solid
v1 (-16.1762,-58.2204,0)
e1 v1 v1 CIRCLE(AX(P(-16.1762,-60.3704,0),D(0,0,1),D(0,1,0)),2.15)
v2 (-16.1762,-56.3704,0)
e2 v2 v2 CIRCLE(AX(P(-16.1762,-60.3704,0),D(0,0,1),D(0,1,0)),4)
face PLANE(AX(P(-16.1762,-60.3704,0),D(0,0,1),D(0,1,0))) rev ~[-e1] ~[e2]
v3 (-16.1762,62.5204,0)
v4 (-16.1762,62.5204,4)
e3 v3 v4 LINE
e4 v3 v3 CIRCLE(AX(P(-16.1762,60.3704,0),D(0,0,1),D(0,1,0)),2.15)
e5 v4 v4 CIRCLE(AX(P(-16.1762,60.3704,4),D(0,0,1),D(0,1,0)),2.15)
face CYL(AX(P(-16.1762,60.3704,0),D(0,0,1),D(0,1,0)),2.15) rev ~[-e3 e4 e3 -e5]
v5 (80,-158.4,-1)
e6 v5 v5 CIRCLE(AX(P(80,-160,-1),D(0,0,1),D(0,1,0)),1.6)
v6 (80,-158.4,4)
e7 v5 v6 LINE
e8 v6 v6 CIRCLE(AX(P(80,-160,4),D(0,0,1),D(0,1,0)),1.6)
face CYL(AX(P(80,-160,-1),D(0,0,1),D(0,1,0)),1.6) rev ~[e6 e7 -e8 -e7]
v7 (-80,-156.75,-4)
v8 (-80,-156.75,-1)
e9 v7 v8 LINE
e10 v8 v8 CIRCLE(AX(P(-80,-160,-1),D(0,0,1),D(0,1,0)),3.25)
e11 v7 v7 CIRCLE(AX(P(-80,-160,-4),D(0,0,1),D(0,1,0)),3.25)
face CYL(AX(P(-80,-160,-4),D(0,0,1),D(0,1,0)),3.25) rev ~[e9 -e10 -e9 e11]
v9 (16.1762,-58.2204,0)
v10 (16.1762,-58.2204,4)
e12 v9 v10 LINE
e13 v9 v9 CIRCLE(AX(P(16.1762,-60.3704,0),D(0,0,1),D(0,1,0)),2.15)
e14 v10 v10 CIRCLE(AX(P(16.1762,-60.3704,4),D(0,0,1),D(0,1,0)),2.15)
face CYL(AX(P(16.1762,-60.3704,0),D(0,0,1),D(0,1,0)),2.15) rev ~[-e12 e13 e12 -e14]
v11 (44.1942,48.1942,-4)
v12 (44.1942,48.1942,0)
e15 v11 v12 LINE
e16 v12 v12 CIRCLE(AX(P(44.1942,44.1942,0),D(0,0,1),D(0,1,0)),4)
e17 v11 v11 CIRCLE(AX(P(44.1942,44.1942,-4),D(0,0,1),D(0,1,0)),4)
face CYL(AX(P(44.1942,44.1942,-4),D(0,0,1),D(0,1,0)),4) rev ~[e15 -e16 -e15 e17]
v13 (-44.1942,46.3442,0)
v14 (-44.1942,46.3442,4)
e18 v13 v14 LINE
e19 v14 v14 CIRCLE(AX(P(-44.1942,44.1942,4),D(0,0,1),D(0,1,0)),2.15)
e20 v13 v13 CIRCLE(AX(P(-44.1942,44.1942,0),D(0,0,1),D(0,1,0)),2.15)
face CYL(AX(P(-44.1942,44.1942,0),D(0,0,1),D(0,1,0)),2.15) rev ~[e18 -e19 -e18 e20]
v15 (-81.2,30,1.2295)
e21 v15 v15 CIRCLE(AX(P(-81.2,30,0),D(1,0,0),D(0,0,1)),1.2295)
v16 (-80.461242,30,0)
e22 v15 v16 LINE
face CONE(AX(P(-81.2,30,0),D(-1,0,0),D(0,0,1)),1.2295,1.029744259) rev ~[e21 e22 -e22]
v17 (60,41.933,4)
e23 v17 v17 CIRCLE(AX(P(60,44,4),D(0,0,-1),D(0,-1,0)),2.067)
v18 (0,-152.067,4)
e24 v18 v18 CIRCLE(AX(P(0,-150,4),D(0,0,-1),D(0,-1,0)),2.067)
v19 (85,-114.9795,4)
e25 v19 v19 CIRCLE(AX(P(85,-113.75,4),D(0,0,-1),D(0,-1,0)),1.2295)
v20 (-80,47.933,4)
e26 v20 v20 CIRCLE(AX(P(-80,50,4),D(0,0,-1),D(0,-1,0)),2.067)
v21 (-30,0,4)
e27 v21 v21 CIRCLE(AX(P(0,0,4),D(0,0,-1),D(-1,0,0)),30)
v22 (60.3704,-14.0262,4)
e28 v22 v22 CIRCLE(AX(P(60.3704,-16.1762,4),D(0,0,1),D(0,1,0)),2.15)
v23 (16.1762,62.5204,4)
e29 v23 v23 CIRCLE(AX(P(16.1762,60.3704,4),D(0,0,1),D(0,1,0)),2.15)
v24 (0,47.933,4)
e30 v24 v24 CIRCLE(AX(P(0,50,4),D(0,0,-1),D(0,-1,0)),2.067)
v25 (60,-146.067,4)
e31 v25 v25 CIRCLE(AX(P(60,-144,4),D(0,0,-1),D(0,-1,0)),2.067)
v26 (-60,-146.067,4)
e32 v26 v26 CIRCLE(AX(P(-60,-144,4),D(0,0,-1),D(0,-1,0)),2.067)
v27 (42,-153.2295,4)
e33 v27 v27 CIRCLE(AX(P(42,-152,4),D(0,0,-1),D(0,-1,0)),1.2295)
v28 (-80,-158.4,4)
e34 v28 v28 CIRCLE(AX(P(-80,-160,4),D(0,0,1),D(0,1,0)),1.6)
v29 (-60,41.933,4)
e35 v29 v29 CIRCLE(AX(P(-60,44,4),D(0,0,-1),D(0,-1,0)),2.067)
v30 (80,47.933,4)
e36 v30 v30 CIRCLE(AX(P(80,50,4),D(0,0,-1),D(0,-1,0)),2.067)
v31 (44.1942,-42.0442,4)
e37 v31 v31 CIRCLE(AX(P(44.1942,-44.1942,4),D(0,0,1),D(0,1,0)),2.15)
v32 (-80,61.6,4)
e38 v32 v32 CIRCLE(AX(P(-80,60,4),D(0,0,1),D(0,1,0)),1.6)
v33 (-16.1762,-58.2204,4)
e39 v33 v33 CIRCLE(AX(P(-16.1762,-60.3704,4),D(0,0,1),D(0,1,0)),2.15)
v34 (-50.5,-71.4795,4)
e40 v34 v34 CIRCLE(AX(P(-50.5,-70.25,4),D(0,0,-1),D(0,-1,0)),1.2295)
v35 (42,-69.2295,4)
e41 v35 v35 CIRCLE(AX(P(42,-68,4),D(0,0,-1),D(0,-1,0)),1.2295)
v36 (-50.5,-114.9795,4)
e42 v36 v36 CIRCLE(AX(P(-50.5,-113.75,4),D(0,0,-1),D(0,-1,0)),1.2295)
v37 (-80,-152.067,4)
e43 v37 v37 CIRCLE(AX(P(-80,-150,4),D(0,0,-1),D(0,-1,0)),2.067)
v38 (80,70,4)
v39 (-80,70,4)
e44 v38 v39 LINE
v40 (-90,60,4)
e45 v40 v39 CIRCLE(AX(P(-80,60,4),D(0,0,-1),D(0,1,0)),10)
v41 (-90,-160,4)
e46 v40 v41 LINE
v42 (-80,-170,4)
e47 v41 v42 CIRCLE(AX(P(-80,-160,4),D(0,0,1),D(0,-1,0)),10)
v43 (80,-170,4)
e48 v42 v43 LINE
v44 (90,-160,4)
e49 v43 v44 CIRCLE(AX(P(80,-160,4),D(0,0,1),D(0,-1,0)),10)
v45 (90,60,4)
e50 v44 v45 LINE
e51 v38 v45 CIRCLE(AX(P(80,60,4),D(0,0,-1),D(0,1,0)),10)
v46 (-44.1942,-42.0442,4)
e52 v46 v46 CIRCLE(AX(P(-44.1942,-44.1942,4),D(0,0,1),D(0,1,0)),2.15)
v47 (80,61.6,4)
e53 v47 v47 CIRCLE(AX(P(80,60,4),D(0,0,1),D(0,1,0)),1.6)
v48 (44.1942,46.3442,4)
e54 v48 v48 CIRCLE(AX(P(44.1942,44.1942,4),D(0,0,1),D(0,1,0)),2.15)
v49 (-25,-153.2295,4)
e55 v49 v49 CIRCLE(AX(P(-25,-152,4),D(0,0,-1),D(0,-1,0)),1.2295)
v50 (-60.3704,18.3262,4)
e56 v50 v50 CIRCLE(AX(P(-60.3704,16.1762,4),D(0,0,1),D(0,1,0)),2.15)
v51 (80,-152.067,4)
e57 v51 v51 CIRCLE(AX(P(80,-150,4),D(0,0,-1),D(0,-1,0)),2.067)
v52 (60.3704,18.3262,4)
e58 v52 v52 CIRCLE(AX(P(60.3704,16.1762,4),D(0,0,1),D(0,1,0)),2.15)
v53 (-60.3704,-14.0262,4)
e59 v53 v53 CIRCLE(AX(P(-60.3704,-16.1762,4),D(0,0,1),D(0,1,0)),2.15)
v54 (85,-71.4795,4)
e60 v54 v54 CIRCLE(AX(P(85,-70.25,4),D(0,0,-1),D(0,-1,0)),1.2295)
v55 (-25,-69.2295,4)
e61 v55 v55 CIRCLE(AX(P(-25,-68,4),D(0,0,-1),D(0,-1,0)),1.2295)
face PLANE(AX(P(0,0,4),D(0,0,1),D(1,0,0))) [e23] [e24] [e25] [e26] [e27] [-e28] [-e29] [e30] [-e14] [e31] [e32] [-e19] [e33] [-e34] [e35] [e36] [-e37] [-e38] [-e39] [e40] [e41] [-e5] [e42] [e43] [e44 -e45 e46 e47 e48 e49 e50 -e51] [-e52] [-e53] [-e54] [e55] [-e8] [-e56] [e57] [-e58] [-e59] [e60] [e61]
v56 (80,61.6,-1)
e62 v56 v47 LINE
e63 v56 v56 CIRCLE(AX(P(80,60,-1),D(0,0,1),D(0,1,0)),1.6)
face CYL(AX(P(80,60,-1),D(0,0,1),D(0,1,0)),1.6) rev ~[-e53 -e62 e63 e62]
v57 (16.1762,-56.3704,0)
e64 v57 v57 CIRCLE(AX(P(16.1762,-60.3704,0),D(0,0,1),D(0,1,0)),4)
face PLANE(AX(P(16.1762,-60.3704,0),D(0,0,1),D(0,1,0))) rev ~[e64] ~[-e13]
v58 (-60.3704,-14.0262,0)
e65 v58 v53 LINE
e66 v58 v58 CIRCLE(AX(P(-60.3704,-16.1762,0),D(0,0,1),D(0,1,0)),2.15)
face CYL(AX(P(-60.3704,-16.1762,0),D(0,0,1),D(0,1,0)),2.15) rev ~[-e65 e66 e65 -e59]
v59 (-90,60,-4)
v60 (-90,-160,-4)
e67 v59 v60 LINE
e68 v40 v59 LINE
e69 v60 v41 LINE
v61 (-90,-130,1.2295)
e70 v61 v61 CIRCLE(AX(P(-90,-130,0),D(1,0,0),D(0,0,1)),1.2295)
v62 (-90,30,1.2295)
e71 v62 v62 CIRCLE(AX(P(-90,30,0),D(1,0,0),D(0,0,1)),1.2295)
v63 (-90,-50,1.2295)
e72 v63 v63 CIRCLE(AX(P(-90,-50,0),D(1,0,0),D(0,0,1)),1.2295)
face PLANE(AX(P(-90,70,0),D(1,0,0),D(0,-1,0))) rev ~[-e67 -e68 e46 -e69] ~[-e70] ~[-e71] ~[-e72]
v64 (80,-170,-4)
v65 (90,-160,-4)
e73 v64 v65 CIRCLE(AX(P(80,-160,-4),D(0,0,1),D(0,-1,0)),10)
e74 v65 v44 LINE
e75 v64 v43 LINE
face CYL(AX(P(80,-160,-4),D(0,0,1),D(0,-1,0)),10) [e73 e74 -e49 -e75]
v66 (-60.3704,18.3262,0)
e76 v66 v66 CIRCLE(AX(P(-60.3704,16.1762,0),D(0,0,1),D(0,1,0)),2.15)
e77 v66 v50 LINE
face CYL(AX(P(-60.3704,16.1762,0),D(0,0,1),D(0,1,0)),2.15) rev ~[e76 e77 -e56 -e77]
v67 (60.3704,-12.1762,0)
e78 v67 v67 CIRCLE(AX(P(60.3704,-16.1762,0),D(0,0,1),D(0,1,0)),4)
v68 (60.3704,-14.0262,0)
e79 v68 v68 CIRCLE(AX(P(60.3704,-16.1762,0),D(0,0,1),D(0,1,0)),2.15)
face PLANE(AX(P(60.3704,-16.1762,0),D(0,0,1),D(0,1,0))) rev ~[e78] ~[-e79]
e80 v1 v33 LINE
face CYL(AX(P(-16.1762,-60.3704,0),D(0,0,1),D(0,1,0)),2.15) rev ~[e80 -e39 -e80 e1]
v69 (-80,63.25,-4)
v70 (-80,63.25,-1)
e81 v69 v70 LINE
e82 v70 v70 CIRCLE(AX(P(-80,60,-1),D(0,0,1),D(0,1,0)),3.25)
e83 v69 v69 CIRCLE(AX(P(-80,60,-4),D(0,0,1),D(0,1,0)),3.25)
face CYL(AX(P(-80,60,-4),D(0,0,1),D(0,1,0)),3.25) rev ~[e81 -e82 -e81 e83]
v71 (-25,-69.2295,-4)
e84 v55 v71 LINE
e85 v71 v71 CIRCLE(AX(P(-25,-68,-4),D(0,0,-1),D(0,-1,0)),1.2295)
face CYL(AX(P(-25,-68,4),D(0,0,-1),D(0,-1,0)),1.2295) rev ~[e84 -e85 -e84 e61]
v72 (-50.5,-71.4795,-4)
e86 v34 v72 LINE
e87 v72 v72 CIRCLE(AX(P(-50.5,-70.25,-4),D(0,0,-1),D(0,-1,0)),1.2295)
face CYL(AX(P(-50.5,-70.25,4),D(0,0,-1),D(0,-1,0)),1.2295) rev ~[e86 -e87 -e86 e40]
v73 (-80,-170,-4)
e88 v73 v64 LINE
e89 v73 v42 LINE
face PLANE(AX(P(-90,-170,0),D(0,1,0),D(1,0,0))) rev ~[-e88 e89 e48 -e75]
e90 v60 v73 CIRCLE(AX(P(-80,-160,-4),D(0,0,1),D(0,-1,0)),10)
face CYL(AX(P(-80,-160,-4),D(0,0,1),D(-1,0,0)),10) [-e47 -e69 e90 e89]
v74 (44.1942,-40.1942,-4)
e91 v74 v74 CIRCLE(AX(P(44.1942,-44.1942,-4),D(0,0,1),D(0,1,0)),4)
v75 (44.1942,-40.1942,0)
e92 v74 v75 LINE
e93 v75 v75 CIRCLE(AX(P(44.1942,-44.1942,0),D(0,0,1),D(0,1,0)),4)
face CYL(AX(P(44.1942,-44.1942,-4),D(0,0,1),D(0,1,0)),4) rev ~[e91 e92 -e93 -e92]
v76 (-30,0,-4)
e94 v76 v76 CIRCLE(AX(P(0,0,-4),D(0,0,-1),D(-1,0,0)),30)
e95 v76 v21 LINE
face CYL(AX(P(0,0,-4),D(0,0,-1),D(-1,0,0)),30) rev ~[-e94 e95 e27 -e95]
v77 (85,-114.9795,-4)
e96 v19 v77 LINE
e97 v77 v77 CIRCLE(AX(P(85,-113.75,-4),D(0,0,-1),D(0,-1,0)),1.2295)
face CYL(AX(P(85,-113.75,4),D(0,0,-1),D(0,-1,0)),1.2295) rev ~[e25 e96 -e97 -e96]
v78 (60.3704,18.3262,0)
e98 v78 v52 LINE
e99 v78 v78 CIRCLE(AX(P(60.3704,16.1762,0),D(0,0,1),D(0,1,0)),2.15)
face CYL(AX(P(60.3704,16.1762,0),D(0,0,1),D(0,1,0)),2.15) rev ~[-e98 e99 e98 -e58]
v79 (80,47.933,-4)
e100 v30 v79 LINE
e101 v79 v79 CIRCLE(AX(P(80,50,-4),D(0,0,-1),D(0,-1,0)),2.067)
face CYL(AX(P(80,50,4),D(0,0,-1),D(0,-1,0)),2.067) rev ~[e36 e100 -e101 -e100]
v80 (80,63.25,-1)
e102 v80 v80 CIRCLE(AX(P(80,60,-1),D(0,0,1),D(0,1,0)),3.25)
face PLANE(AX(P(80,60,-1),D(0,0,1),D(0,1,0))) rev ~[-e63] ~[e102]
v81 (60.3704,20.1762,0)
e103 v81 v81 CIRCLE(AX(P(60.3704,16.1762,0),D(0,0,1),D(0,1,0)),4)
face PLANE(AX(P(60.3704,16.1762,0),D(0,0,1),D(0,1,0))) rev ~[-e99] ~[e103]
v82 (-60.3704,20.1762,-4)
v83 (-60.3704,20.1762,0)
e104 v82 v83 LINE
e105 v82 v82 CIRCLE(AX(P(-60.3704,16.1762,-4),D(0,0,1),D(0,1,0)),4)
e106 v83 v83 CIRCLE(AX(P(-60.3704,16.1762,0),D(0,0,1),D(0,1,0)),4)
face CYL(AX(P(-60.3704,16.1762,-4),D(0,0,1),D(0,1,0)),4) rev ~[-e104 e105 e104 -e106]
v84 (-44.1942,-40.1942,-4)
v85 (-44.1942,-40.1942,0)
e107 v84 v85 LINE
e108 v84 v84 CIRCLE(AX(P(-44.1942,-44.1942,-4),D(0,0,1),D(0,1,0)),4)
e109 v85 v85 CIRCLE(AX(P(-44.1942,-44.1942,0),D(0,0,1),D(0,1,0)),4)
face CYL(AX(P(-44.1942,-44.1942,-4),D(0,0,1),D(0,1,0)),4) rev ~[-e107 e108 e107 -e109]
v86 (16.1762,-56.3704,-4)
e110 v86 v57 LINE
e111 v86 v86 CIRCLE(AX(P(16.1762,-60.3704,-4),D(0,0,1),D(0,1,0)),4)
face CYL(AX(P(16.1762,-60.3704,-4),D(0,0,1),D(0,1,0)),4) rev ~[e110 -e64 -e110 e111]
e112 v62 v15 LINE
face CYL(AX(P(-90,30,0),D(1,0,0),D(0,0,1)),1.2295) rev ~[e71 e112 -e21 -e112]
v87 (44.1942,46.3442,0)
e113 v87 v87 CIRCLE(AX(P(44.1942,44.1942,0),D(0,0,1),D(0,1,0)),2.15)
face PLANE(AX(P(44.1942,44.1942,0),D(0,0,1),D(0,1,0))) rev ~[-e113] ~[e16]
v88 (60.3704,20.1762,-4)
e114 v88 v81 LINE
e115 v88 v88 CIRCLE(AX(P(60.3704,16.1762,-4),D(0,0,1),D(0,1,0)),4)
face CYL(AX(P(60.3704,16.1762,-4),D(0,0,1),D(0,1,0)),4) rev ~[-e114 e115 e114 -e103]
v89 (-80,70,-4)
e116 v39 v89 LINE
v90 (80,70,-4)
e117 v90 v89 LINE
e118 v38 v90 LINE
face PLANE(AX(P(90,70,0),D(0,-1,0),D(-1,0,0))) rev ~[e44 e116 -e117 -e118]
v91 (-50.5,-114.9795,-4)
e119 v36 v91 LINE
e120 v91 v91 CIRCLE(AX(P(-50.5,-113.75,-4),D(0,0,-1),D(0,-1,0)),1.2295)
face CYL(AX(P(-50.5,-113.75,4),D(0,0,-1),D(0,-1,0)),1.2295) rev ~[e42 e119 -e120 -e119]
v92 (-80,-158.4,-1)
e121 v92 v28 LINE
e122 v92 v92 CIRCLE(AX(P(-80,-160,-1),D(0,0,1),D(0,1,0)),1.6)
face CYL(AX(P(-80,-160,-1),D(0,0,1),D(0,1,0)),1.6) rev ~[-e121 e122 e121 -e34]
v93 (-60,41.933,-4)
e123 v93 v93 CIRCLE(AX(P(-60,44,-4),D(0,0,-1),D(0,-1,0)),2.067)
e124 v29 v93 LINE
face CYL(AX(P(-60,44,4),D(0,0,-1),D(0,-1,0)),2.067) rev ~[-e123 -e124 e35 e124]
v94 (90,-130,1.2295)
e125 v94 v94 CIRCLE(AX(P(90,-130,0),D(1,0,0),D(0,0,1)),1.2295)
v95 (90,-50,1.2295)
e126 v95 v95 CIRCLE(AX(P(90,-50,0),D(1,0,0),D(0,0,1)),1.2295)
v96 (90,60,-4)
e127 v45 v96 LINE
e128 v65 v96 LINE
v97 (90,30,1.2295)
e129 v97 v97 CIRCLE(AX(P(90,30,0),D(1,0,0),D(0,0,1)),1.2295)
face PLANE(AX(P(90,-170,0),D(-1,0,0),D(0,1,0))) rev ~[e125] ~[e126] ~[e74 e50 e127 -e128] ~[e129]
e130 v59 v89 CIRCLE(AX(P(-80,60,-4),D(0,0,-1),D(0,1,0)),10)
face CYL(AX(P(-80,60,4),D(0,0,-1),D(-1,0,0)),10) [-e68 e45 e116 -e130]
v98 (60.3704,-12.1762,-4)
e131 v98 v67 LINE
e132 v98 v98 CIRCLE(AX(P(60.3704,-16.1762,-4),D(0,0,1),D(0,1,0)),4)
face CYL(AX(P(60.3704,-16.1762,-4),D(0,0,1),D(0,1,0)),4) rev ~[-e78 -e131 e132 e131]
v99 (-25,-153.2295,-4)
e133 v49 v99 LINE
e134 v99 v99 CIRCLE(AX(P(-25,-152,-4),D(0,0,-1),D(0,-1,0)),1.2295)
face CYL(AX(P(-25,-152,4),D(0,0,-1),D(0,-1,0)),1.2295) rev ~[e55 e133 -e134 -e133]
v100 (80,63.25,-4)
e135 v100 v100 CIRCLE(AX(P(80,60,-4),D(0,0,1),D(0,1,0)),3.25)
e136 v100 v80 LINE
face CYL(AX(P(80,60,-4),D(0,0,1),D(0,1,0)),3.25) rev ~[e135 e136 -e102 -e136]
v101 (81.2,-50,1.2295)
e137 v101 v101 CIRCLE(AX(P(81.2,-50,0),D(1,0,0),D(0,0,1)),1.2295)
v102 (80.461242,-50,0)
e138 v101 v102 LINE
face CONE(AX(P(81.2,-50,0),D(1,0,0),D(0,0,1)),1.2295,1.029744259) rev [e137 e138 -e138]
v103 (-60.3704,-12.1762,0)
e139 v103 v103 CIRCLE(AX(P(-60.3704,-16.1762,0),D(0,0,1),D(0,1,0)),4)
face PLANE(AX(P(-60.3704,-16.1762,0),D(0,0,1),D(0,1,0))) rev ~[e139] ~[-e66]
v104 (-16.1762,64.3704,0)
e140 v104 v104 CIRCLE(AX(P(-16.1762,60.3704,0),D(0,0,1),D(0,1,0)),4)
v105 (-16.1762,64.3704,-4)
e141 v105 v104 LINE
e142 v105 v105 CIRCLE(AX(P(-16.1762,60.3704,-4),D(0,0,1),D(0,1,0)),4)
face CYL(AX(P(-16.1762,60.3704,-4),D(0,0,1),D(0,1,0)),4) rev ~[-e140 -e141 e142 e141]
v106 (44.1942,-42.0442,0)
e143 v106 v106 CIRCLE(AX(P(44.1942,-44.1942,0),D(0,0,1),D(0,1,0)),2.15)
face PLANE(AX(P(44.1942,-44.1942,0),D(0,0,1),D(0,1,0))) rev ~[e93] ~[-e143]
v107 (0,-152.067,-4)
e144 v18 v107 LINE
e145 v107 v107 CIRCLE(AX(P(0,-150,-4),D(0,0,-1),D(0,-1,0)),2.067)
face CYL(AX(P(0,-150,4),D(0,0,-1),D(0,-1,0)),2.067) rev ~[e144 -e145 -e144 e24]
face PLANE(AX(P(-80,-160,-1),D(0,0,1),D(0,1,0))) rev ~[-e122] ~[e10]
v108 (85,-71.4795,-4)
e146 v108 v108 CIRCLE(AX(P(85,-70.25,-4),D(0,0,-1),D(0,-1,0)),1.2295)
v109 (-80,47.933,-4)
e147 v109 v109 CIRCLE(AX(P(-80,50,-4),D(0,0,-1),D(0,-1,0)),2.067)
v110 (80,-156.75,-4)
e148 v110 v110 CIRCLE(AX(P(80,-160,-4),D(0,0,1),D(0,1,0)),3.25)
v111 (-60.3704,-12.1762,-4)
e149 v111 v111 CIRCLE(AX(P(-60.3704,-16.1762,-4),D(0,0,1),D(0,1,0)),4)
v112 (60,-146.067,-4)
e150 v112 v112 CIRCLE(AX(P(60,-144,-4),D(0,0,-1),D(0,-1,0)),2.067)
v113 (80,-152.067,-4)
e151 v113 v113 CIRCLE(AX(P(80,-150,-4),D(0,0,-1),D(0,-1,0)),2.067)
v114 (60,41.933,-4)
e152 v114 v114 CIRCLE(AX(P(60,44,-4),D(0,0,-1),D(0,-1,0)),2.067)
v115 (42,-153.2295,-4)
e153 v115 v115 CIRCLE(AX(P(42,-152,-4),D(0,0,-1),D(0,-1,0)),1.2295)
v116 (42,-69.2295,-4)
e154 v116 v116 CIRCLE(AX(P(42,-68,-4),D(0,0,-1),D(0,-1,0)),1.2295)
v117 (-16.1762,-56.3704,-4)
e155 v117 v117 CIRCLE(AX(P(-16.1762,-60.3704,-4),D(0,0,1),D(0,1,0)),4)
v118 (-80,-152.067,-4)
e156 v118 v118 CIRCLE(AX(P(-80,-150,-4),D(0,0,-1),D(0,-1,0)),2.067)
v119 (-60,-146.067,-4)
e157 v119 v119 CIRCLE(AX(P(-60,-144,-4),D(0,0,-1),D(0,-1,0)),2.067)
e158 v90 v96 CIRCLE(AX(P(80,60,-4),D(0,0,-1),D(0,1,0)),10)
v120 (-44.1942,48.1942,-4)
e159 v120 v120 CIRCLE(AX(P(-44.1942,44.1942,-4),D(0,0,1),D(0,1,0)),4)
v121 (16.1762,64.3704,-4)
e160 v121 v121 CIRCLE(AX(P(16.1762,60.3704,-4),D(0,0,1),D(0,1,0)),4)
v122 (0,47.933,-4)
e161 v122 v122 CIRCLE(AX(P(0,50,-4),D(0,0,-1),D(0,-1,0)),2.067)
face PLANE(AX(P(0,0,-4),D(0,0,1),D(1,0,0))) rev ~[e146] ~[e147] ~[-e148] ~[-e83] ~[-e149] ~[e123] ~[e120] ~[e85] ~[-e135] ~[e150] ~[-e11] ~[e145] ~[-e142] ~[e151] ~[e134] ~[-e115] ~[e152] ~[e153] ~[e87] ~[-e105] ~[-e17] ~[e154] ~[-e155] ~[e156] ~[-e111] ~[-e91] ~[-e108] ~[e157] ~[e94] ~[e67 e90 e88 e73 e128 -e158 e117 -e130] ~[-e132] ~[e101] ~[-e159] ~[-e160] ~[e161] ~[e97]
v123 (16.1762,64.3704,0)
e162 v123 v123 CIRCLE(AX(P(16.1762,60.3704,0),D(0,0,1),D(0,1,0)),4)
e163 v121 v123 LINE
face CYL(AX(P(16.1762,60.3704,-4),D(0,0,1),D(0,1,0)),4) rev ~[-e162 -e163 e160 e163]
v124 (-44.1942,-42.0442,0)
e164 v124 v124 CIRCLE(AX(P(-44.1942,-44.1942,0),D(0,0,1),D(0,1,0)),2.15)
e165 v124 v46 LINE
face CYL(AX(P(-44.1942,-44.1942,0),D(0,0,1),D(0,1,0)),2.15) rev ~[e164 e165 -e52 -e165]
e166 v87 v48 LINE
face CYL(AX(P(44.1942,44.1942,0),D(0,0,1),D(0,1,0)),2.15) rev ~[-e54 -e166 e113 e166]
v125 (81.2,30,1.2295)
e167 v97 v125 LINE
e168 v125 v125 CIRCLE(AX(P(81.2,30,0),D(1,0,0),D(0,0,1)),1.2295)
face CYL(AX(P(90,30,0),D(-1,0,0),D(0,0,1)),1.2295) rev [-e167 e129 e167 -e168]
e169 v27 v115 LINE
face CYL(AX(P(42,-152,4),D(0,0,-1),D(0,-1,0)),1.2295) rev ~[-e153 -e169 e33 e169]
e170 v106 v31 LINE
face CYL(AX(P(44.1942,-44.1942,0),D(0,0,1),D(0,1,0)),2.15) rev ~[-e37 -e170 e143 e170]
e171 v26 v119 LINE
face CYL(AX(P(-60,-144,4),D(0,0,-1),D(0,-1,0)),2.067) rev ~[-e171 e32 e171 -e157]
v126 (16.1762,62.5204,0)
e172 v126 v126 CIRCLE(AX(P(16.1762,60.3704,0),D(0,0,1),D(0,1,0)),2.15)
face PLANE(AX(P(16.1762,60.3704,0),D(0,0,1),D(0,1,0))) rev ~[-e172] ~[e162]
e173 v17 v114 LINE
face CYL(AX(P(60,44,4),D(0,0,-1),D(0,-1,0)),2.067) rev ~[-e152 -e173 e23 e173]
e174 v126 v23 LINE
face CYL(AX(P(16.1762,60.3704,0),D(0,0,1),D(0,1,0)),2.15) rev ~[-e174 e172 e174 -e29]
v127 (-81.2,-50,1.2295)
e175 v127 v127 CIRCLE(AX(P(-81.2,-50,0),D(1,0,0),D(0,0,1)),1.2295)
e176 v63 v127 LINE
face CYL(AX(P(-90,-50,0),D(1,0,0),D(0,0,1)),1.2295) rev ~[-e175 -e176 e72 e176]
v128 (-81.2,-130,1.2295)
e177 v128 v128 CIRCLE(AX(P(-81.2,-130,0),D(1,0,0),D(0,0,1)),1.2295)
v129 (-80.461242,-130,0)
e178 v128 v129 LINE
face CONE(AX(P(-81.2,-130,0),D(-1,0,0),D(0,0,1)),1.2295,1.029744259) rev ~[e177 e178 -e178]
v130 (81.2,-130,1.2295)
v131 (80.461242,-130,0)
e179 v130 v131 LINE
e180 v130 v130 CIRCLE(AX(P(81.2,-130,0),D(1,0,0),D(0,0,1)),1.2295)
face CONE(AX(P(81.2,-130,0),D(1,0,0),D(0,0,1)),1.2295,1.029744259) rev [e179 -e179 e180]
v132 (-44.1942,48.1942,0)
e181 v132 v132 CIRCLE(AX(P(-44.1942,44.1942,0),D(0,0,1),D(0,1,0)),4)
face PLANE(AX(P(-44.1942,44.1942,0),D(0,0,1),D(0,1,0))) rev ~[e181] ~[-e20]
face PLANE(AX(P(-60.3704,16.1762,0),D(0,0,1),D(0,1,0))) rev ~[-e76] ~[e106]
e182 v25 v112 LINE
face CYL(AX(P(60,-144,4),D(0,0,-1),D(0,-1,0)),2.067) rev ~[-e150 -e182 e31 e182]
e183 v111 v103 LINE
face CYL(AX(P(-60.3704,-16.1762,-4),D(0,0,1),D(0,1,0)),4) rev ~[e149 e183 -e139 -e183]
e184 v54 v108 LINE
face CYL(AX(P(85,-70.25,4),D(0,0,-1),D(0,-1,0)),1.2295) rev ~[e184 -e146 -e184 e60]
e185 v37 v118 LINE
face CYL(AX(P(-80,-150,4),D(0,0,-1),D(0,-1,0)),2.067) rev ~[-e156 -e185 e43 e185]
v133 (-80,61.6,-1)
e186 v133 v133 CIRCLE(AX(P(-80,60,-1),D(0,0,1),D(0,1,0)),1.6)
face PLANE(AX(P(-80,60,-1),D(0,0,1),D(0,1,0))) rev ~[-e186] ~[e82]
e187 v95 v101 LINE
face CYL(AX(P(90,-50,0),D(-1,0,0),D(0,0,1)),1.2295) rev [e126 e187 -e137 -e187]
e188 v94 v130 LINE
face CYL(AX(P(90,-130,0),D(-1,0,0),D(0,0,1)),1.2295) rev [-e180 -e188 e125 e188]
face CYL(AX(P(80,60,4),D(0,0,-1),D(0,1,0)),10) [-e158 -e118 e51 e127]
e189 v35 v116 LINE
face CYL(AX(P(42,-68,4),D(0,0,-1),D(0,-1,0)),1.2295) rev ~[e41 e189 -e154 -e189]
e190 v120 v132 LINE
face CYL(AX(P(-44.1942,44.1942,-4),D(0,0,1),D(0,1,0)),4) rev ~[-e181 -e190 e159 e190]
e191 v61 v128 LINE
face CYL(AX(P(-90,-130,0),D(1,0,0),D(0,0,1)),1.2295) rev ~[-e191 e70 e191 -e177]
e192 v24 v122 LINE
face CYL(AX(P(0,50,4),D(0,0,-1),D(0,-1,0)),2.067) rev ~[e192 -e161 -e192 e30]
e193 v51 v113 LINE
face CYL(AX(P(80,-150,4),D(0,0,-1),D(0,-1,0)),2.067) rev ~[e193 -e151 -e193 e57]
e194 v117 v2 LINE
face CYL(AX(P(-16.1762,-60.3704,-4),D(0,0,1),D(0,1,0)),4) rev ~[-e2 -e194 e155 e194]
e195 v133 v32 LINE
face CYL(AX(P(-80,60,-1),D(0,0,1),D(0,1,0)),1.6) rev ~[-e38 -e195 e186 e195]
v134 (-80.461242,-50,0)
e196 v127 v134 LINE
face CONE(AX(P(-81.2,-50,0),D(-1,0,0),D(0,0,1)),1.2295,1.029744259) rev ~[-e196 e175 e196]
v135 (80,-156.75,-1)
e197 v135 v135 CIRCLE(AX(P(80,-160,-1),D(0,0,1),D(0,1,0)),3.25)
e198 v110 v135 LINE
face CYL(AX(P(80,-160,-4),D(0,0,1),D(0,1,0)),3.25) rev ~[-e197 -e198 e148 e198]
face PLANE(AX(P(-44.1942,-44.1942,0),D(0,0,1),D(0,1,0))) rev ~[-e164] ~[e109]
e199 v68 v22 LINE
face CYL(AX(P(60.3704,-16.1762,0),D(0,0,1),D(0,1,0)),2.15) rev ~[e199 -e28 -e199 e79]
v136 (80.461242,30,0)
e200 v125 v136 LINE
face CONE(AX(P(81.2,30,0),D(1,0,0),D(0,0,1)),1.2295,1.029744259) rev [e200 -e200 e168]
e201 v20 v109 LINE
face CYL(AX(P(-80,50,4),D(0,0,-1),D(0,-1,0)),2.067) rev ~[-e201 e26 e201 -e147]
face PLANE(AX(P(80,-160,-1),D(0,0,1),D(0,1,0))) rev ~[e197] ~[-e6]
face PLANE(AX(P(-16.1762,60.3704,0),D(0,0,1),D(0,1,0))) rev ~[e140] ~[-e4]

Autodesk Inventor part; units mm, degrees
ref_plane "YZ Plane" through (0, 0, 0) normal (1, 0, 0) x (0, 1, 0)
ref_plane "XZ Plane" through (0, 0, 0) normal (0, 1, 0) x (-1, 0, 0)
ref_plane "XY Plane" through (0, 0, 0) normal (0, 0, 1) x (1, 0, 0)
sketch "スケッチ1" plane through (0, 0, 0) normal (0, 0, 1) x (1, 0, 0)
  circle A0 centre (0, 0) radius 73.5 construction
  line L0 (-90, -170) -> (90, -170)
  line L1 (90, -170) -> (90, 70)
  line L2 (90, 70) -> (-90, 70)
  line L3 (-90, 70) -> (-90, -170)
  line L4 (-90, -170) -> (90, 70) construction
  line L5 (90, -170) -> (-90, 70) construction
  point P0 (0, -50)
  point P1 (0, -50)
  dimension "d25" = 147
  dimension "d26" = 240
  dimension "d71" = 180
  dimension "d76" = 70
extrude "押し出し2" add sketch "スケッチ1" along normal mid plane 8
sketch "スケッチ5" plane through (0, 0, 4) normal (0, 0, 1) x (1, 0, 0)
  line L0 (-50.5, -113.75) -> (85, -113.75)
  line L1 (85, -113.75) -> (85, -70.25)
  line L2 (85, -70.25) -> (-50.5, -70.25)
  line L3 (-50.5, -70.25) -> (-50.5, -113.75)
  line L4 (-50.5, -113.75) -> (85, -70.25) construction
  line L5 (85, -113.75) -> (-50.5, -70.25) construction
  line L6 (90, -170) -> (90, 70) projected
  point P0 (0, 0)
  point P1 (17.25, -92)
  point P2 (17.25, -92)
  dimension "d40" = 135.5
  dimension "d41" = 43.5
  dimension "d73" = 92
  dimension "d74" = 5
hole "穴3" at (-50.5, -70.25, 4) at (-50.5, -113.75, 4) at (85, -113.75, 4) at (85, -70.25, 4) direction (0, 0, -1) diameter 2.459 depth 8.8 tip angle 118 thread size "M3x0.5" class "6H" standard "ANSI Metric M Profile"
sketch "スケッチ6" plane through (0, 0, -4) normal (0, 0, -1) x (-1, 0, 0)
  circle A0 centre (0, 0) radius 30
  dimension "d54" = 60
extrude "押し出し3" cut sketch "スケッチ6" against normal through all
fillet "フィレット3" radius 10 4 edges at (90, 70, 0) (-90, 70, 0) (90, -170, 0) (-90, -170, 0)
sketch "スケッチ7" plane through (0, 0, 4) normal (0, 0, 1) x (1, 0, 0)
  line L0 (-25, -68) -> (42, -68)
  line L1 (42, -68) -> (42, -152)
  line L2 (42, -152) -> (-25, -152)
  line L3 (-25, -152) -> (-25, -68)
  line L4 (-25, -68) -> (42, -152) construction
  line L5 (42, -68) -> (-25, -152) construction
  line L6 (-80, -170) -> (80, -170) projected
  line L7 (-90, 60) -> (-90, -160) projected
  line L8 (90, -160) -> (90, 60) projected
  point P0 (0, 0)
  point P1 (8.5, -110)
  dimension "d59" = 67
  dimension "d60" = 84
  dimension "d70" = 110
  dimension "d75" = 48
hole "穴4" at (-25, -152, 4) at (-25, -68, 4) at (42, -68, 4) at (42, -152, 4) direction (0, 0, -1) diameter 2.459 depth 8.8 tip angle 118 thread size "M3x0.5" class "6H" standard "ANSI Metric M Profile"
sketch "スケッチ8" plane through (0, 0, -4) normal (0, 0, -1) x (-1, 0, 0)
  arc A0 (-80, 70) -> (-90, 60) centre (-80, 60) ccw projected
  arc A1 (90, 60) -> (80, 70) centre (80, 60) ccw projected
  arc A2 (80, -170) -> (90, -160) centre (80, -160) ccw projected
  arc A3 (-90, -160) -> (-80, -170) centre (-80, -160) ccw projected
  point P0 (0, 0)
hole "穴5" at (80, -160, -4) at (-80, -160, -4) at (-80, 60, -4) at (80, 60, -4) direction (0, 0, 1) diameter 3.2 end through all counterbore diameter 6.5 counterbore depth 3 clearance for "Socket Head Cap Screw" size "M3" standard "Ansi Metric M Profile"
sketch "スケッチ9" plane through (0, 0, 4) normal (0, 0, 1) x (1, 0, 0)
  line L0 (-80, -170) -> (80, -170) projected
  line L1 (80, 70) -> (-80, 70) projected
  point P0 (0, 0)
  point P1 (-60, -144)
  point P2 (60, -144)
  point P3 (-60, 44)
  point P4 (60, 44)
  dimension "d84" = 60
  dimension "d85" = 60
  dimension "d86" = 26
  dimension "d94" = 26
hole "穴6" at (-60, -144, 4) at (60, -144, 4) at (-60, 44, 4) at (60, 44, 4) direction (0, 0, -1) diameter 4.134 end through all thread size "M5x0.8" class "6H" standard "ANSI Metric M Profile"
sketch "スケッチ3" plane through (0, 0, -4) normal (0, 0, 1) x (1, 0, 0)
  circle A0 centre (0, 0) radius 62.5
  point P0 (-16.1762, 60.3704)
  point P1 (-44.1942, 44.1942)
  point P2 (-60.3704, 16.1762)
  point P3 (-60.3704, -16.1762)
  point P4 (-44.1942, -44.1942)
  point P5 (-16.1762, -60.3704)
  point P6 (16.1762, -60.3704)
  point P7 (44.1942, -44.1942)
  point P8 (60.3704, -16.1762)
  point P9 (60.3704, 16.1762)
  point P10 (44.1942, 44.1942)
  point P11 (16.1762, 60.3704)
  dimension "d8" = 125
  dimension "d11" = 360
  dimension "d20" = 0
hole "穴1" at (-16.1762, 60.3704, -4) at (-44.1942, 44.1942, -4) at (-60.3704, 16.1762, -4) at (-60.3704, -16.1762, -4) at (-44.1942, -44.1942, -4) at (-16.1762, -60.3704, -4) at (16.1762, -60.3704, -4) at (44.1942, -44.1942, -4) at (60.3704, -16.1762, -4) at (60.3704, 16.1762, -4) at (44.1942, 44.1942, -4) at (16.1762, 60.3704, -4) direction (0, 0, 1) diameter 4.3 end through all counterbore diameter 8 counterbore depth 4 clearance for "Socket Head Cap Screw" size "M4" standard "Ansi Metric M Profile"
sketch "スケッチ4" plane through (0, 0, 4) normal (0, 0, 1) x (1, 0, 0)
  line L0 (-80, -150) -> (80, -150)
  line L1 (80, -150) -> (80, 50)
  line L2 (80, 50) -> (-80, 50)
  line L3 (-80, 50) -> (-80, -150)
  line L4 (-80, -150) -> (80, 50) construction
  line L5 (80, -150) -> (-80, 50) construction
  line L6 (90, 70) -> (-90, 70) projected
  line L7 (-90, -170) -> (90, -170) projected
  line L8 (79.8007, -110) -> (-79.8007, -110)
  line L9 (-79.8007, -110) -> (-79.8007, 10)
  line L10 (-79.8007, 10) -> (79.8007, 10)
  line L11 (79.8007, 10) -> (79.8007, -110)
  line L12 (79.8007, -110) -> (-79.8007, 10) construction
  line L13 (-79.8007, -110) -> (79.8007, 10) construction
  line L14 (40, -150) -> (-40, -150)
  line L15 (-40, -150) -> (-40, 50)
  line L16 (-40, 50) -> (40, 50)
  line L17 (40, 50) -> (40, -150)
  line L18 (40, -150) -> (-40, 50) construction
  line L19 (-40, -150) -> (40, 50) construction
  line L20 (79.6443, -70) -> (-79.6443, -70)
  line L21 (-79.6443, -70) -> (-79.6443, -30)
  line L22 (-79.6443, -30) -> (79.6443, -30)
  line L23 (79.6443, -30) -> (79.6443, -70)
  line L24 (79.6443, -70) -> (-79.6443, -30) construction
  line L25 (-79.6443, -70) -> (79.6443, -30) construction
  line L26 (0, 50) -> (0, -150)
  point P0 (0, 0)
  point P1 (0, -50)
  point P2 (0, -50)
  point P3 (60, 72.5)
  point P4 (-60, 72.5)
  point P5 (-90, 70)
  dimension "d30" = 160
  dimension "d31" = 200
  dimension "d72" = 20
  dimension "d96" = 40
  dimension "d97" = 40
  dimension "d98" = 40
hole "穴2" at (80, 50, 4) at (-80, 50, 4) at (-80, -150, 4) at (80, -150, 4) at (0, 50, 4) at (0, -150, 4) direction (0, 0, -1) diameter 4.134 end through all thread size "M5x0.8" class "6H" standard "ANSI Metric M Profile"
sketch "スケッチ10" plane through (-90, -160, 4) normal (-1, 0, 0) x (0, 0, 1)
  line L0 (0, 230) -> (-8, 230) projected
  line L1 (-8, 0) -> (-8, 220) projected
  point P0 (-4, 160)
  point P1 (-4, 190)
  point P2 (-4, 110)
  point P3 (-4, 30)
  point P4 (-4, -50)
  point P5 (-4, -130)
  dimension "d99" = 40
  dimension "d102" = 80
  dimension "d107" = 4
hole "穴7" at (-90, 30, 0) at (-90, -50, 0) at (-90, -130, 0) at (-90, -210, 0) at (-90, -290, 0) direction (1, 0, 0) diameter 2.459 depth 8.8 tip angle 118 thread size "M3x0.5" class "6H" standard "ANSI Metric M Profile"
mirror "ミラー1" about plane through (0, 0, 0) normal (1, 0, 0) of "穴7"
equation "\"d82\" = Thickness"
equation "\"d18\" = Thickness"
equation "\"BendRadius\" = Thickness"
equation "\"BendReliefWidth\" = Thickness"
equation "\"BendReliefDepth\" = 0.5 * Thickness"
equation "\"CornerReliefSize\" = 4 * Thickness"
equation "\"MinimumRemnant\" = 2 * Thickness"
equation "\"TransitionRadius\" = BendRadius"
equation "\"JacobiRadiusSize\" = BendRadius"
equation "\"GapSize\" = Thickness"
equation "\"d2\" = Thickness"
equation "\"Thickness\" = 3.2"
properties part number "base5" material "鋼、炭素鋼"
